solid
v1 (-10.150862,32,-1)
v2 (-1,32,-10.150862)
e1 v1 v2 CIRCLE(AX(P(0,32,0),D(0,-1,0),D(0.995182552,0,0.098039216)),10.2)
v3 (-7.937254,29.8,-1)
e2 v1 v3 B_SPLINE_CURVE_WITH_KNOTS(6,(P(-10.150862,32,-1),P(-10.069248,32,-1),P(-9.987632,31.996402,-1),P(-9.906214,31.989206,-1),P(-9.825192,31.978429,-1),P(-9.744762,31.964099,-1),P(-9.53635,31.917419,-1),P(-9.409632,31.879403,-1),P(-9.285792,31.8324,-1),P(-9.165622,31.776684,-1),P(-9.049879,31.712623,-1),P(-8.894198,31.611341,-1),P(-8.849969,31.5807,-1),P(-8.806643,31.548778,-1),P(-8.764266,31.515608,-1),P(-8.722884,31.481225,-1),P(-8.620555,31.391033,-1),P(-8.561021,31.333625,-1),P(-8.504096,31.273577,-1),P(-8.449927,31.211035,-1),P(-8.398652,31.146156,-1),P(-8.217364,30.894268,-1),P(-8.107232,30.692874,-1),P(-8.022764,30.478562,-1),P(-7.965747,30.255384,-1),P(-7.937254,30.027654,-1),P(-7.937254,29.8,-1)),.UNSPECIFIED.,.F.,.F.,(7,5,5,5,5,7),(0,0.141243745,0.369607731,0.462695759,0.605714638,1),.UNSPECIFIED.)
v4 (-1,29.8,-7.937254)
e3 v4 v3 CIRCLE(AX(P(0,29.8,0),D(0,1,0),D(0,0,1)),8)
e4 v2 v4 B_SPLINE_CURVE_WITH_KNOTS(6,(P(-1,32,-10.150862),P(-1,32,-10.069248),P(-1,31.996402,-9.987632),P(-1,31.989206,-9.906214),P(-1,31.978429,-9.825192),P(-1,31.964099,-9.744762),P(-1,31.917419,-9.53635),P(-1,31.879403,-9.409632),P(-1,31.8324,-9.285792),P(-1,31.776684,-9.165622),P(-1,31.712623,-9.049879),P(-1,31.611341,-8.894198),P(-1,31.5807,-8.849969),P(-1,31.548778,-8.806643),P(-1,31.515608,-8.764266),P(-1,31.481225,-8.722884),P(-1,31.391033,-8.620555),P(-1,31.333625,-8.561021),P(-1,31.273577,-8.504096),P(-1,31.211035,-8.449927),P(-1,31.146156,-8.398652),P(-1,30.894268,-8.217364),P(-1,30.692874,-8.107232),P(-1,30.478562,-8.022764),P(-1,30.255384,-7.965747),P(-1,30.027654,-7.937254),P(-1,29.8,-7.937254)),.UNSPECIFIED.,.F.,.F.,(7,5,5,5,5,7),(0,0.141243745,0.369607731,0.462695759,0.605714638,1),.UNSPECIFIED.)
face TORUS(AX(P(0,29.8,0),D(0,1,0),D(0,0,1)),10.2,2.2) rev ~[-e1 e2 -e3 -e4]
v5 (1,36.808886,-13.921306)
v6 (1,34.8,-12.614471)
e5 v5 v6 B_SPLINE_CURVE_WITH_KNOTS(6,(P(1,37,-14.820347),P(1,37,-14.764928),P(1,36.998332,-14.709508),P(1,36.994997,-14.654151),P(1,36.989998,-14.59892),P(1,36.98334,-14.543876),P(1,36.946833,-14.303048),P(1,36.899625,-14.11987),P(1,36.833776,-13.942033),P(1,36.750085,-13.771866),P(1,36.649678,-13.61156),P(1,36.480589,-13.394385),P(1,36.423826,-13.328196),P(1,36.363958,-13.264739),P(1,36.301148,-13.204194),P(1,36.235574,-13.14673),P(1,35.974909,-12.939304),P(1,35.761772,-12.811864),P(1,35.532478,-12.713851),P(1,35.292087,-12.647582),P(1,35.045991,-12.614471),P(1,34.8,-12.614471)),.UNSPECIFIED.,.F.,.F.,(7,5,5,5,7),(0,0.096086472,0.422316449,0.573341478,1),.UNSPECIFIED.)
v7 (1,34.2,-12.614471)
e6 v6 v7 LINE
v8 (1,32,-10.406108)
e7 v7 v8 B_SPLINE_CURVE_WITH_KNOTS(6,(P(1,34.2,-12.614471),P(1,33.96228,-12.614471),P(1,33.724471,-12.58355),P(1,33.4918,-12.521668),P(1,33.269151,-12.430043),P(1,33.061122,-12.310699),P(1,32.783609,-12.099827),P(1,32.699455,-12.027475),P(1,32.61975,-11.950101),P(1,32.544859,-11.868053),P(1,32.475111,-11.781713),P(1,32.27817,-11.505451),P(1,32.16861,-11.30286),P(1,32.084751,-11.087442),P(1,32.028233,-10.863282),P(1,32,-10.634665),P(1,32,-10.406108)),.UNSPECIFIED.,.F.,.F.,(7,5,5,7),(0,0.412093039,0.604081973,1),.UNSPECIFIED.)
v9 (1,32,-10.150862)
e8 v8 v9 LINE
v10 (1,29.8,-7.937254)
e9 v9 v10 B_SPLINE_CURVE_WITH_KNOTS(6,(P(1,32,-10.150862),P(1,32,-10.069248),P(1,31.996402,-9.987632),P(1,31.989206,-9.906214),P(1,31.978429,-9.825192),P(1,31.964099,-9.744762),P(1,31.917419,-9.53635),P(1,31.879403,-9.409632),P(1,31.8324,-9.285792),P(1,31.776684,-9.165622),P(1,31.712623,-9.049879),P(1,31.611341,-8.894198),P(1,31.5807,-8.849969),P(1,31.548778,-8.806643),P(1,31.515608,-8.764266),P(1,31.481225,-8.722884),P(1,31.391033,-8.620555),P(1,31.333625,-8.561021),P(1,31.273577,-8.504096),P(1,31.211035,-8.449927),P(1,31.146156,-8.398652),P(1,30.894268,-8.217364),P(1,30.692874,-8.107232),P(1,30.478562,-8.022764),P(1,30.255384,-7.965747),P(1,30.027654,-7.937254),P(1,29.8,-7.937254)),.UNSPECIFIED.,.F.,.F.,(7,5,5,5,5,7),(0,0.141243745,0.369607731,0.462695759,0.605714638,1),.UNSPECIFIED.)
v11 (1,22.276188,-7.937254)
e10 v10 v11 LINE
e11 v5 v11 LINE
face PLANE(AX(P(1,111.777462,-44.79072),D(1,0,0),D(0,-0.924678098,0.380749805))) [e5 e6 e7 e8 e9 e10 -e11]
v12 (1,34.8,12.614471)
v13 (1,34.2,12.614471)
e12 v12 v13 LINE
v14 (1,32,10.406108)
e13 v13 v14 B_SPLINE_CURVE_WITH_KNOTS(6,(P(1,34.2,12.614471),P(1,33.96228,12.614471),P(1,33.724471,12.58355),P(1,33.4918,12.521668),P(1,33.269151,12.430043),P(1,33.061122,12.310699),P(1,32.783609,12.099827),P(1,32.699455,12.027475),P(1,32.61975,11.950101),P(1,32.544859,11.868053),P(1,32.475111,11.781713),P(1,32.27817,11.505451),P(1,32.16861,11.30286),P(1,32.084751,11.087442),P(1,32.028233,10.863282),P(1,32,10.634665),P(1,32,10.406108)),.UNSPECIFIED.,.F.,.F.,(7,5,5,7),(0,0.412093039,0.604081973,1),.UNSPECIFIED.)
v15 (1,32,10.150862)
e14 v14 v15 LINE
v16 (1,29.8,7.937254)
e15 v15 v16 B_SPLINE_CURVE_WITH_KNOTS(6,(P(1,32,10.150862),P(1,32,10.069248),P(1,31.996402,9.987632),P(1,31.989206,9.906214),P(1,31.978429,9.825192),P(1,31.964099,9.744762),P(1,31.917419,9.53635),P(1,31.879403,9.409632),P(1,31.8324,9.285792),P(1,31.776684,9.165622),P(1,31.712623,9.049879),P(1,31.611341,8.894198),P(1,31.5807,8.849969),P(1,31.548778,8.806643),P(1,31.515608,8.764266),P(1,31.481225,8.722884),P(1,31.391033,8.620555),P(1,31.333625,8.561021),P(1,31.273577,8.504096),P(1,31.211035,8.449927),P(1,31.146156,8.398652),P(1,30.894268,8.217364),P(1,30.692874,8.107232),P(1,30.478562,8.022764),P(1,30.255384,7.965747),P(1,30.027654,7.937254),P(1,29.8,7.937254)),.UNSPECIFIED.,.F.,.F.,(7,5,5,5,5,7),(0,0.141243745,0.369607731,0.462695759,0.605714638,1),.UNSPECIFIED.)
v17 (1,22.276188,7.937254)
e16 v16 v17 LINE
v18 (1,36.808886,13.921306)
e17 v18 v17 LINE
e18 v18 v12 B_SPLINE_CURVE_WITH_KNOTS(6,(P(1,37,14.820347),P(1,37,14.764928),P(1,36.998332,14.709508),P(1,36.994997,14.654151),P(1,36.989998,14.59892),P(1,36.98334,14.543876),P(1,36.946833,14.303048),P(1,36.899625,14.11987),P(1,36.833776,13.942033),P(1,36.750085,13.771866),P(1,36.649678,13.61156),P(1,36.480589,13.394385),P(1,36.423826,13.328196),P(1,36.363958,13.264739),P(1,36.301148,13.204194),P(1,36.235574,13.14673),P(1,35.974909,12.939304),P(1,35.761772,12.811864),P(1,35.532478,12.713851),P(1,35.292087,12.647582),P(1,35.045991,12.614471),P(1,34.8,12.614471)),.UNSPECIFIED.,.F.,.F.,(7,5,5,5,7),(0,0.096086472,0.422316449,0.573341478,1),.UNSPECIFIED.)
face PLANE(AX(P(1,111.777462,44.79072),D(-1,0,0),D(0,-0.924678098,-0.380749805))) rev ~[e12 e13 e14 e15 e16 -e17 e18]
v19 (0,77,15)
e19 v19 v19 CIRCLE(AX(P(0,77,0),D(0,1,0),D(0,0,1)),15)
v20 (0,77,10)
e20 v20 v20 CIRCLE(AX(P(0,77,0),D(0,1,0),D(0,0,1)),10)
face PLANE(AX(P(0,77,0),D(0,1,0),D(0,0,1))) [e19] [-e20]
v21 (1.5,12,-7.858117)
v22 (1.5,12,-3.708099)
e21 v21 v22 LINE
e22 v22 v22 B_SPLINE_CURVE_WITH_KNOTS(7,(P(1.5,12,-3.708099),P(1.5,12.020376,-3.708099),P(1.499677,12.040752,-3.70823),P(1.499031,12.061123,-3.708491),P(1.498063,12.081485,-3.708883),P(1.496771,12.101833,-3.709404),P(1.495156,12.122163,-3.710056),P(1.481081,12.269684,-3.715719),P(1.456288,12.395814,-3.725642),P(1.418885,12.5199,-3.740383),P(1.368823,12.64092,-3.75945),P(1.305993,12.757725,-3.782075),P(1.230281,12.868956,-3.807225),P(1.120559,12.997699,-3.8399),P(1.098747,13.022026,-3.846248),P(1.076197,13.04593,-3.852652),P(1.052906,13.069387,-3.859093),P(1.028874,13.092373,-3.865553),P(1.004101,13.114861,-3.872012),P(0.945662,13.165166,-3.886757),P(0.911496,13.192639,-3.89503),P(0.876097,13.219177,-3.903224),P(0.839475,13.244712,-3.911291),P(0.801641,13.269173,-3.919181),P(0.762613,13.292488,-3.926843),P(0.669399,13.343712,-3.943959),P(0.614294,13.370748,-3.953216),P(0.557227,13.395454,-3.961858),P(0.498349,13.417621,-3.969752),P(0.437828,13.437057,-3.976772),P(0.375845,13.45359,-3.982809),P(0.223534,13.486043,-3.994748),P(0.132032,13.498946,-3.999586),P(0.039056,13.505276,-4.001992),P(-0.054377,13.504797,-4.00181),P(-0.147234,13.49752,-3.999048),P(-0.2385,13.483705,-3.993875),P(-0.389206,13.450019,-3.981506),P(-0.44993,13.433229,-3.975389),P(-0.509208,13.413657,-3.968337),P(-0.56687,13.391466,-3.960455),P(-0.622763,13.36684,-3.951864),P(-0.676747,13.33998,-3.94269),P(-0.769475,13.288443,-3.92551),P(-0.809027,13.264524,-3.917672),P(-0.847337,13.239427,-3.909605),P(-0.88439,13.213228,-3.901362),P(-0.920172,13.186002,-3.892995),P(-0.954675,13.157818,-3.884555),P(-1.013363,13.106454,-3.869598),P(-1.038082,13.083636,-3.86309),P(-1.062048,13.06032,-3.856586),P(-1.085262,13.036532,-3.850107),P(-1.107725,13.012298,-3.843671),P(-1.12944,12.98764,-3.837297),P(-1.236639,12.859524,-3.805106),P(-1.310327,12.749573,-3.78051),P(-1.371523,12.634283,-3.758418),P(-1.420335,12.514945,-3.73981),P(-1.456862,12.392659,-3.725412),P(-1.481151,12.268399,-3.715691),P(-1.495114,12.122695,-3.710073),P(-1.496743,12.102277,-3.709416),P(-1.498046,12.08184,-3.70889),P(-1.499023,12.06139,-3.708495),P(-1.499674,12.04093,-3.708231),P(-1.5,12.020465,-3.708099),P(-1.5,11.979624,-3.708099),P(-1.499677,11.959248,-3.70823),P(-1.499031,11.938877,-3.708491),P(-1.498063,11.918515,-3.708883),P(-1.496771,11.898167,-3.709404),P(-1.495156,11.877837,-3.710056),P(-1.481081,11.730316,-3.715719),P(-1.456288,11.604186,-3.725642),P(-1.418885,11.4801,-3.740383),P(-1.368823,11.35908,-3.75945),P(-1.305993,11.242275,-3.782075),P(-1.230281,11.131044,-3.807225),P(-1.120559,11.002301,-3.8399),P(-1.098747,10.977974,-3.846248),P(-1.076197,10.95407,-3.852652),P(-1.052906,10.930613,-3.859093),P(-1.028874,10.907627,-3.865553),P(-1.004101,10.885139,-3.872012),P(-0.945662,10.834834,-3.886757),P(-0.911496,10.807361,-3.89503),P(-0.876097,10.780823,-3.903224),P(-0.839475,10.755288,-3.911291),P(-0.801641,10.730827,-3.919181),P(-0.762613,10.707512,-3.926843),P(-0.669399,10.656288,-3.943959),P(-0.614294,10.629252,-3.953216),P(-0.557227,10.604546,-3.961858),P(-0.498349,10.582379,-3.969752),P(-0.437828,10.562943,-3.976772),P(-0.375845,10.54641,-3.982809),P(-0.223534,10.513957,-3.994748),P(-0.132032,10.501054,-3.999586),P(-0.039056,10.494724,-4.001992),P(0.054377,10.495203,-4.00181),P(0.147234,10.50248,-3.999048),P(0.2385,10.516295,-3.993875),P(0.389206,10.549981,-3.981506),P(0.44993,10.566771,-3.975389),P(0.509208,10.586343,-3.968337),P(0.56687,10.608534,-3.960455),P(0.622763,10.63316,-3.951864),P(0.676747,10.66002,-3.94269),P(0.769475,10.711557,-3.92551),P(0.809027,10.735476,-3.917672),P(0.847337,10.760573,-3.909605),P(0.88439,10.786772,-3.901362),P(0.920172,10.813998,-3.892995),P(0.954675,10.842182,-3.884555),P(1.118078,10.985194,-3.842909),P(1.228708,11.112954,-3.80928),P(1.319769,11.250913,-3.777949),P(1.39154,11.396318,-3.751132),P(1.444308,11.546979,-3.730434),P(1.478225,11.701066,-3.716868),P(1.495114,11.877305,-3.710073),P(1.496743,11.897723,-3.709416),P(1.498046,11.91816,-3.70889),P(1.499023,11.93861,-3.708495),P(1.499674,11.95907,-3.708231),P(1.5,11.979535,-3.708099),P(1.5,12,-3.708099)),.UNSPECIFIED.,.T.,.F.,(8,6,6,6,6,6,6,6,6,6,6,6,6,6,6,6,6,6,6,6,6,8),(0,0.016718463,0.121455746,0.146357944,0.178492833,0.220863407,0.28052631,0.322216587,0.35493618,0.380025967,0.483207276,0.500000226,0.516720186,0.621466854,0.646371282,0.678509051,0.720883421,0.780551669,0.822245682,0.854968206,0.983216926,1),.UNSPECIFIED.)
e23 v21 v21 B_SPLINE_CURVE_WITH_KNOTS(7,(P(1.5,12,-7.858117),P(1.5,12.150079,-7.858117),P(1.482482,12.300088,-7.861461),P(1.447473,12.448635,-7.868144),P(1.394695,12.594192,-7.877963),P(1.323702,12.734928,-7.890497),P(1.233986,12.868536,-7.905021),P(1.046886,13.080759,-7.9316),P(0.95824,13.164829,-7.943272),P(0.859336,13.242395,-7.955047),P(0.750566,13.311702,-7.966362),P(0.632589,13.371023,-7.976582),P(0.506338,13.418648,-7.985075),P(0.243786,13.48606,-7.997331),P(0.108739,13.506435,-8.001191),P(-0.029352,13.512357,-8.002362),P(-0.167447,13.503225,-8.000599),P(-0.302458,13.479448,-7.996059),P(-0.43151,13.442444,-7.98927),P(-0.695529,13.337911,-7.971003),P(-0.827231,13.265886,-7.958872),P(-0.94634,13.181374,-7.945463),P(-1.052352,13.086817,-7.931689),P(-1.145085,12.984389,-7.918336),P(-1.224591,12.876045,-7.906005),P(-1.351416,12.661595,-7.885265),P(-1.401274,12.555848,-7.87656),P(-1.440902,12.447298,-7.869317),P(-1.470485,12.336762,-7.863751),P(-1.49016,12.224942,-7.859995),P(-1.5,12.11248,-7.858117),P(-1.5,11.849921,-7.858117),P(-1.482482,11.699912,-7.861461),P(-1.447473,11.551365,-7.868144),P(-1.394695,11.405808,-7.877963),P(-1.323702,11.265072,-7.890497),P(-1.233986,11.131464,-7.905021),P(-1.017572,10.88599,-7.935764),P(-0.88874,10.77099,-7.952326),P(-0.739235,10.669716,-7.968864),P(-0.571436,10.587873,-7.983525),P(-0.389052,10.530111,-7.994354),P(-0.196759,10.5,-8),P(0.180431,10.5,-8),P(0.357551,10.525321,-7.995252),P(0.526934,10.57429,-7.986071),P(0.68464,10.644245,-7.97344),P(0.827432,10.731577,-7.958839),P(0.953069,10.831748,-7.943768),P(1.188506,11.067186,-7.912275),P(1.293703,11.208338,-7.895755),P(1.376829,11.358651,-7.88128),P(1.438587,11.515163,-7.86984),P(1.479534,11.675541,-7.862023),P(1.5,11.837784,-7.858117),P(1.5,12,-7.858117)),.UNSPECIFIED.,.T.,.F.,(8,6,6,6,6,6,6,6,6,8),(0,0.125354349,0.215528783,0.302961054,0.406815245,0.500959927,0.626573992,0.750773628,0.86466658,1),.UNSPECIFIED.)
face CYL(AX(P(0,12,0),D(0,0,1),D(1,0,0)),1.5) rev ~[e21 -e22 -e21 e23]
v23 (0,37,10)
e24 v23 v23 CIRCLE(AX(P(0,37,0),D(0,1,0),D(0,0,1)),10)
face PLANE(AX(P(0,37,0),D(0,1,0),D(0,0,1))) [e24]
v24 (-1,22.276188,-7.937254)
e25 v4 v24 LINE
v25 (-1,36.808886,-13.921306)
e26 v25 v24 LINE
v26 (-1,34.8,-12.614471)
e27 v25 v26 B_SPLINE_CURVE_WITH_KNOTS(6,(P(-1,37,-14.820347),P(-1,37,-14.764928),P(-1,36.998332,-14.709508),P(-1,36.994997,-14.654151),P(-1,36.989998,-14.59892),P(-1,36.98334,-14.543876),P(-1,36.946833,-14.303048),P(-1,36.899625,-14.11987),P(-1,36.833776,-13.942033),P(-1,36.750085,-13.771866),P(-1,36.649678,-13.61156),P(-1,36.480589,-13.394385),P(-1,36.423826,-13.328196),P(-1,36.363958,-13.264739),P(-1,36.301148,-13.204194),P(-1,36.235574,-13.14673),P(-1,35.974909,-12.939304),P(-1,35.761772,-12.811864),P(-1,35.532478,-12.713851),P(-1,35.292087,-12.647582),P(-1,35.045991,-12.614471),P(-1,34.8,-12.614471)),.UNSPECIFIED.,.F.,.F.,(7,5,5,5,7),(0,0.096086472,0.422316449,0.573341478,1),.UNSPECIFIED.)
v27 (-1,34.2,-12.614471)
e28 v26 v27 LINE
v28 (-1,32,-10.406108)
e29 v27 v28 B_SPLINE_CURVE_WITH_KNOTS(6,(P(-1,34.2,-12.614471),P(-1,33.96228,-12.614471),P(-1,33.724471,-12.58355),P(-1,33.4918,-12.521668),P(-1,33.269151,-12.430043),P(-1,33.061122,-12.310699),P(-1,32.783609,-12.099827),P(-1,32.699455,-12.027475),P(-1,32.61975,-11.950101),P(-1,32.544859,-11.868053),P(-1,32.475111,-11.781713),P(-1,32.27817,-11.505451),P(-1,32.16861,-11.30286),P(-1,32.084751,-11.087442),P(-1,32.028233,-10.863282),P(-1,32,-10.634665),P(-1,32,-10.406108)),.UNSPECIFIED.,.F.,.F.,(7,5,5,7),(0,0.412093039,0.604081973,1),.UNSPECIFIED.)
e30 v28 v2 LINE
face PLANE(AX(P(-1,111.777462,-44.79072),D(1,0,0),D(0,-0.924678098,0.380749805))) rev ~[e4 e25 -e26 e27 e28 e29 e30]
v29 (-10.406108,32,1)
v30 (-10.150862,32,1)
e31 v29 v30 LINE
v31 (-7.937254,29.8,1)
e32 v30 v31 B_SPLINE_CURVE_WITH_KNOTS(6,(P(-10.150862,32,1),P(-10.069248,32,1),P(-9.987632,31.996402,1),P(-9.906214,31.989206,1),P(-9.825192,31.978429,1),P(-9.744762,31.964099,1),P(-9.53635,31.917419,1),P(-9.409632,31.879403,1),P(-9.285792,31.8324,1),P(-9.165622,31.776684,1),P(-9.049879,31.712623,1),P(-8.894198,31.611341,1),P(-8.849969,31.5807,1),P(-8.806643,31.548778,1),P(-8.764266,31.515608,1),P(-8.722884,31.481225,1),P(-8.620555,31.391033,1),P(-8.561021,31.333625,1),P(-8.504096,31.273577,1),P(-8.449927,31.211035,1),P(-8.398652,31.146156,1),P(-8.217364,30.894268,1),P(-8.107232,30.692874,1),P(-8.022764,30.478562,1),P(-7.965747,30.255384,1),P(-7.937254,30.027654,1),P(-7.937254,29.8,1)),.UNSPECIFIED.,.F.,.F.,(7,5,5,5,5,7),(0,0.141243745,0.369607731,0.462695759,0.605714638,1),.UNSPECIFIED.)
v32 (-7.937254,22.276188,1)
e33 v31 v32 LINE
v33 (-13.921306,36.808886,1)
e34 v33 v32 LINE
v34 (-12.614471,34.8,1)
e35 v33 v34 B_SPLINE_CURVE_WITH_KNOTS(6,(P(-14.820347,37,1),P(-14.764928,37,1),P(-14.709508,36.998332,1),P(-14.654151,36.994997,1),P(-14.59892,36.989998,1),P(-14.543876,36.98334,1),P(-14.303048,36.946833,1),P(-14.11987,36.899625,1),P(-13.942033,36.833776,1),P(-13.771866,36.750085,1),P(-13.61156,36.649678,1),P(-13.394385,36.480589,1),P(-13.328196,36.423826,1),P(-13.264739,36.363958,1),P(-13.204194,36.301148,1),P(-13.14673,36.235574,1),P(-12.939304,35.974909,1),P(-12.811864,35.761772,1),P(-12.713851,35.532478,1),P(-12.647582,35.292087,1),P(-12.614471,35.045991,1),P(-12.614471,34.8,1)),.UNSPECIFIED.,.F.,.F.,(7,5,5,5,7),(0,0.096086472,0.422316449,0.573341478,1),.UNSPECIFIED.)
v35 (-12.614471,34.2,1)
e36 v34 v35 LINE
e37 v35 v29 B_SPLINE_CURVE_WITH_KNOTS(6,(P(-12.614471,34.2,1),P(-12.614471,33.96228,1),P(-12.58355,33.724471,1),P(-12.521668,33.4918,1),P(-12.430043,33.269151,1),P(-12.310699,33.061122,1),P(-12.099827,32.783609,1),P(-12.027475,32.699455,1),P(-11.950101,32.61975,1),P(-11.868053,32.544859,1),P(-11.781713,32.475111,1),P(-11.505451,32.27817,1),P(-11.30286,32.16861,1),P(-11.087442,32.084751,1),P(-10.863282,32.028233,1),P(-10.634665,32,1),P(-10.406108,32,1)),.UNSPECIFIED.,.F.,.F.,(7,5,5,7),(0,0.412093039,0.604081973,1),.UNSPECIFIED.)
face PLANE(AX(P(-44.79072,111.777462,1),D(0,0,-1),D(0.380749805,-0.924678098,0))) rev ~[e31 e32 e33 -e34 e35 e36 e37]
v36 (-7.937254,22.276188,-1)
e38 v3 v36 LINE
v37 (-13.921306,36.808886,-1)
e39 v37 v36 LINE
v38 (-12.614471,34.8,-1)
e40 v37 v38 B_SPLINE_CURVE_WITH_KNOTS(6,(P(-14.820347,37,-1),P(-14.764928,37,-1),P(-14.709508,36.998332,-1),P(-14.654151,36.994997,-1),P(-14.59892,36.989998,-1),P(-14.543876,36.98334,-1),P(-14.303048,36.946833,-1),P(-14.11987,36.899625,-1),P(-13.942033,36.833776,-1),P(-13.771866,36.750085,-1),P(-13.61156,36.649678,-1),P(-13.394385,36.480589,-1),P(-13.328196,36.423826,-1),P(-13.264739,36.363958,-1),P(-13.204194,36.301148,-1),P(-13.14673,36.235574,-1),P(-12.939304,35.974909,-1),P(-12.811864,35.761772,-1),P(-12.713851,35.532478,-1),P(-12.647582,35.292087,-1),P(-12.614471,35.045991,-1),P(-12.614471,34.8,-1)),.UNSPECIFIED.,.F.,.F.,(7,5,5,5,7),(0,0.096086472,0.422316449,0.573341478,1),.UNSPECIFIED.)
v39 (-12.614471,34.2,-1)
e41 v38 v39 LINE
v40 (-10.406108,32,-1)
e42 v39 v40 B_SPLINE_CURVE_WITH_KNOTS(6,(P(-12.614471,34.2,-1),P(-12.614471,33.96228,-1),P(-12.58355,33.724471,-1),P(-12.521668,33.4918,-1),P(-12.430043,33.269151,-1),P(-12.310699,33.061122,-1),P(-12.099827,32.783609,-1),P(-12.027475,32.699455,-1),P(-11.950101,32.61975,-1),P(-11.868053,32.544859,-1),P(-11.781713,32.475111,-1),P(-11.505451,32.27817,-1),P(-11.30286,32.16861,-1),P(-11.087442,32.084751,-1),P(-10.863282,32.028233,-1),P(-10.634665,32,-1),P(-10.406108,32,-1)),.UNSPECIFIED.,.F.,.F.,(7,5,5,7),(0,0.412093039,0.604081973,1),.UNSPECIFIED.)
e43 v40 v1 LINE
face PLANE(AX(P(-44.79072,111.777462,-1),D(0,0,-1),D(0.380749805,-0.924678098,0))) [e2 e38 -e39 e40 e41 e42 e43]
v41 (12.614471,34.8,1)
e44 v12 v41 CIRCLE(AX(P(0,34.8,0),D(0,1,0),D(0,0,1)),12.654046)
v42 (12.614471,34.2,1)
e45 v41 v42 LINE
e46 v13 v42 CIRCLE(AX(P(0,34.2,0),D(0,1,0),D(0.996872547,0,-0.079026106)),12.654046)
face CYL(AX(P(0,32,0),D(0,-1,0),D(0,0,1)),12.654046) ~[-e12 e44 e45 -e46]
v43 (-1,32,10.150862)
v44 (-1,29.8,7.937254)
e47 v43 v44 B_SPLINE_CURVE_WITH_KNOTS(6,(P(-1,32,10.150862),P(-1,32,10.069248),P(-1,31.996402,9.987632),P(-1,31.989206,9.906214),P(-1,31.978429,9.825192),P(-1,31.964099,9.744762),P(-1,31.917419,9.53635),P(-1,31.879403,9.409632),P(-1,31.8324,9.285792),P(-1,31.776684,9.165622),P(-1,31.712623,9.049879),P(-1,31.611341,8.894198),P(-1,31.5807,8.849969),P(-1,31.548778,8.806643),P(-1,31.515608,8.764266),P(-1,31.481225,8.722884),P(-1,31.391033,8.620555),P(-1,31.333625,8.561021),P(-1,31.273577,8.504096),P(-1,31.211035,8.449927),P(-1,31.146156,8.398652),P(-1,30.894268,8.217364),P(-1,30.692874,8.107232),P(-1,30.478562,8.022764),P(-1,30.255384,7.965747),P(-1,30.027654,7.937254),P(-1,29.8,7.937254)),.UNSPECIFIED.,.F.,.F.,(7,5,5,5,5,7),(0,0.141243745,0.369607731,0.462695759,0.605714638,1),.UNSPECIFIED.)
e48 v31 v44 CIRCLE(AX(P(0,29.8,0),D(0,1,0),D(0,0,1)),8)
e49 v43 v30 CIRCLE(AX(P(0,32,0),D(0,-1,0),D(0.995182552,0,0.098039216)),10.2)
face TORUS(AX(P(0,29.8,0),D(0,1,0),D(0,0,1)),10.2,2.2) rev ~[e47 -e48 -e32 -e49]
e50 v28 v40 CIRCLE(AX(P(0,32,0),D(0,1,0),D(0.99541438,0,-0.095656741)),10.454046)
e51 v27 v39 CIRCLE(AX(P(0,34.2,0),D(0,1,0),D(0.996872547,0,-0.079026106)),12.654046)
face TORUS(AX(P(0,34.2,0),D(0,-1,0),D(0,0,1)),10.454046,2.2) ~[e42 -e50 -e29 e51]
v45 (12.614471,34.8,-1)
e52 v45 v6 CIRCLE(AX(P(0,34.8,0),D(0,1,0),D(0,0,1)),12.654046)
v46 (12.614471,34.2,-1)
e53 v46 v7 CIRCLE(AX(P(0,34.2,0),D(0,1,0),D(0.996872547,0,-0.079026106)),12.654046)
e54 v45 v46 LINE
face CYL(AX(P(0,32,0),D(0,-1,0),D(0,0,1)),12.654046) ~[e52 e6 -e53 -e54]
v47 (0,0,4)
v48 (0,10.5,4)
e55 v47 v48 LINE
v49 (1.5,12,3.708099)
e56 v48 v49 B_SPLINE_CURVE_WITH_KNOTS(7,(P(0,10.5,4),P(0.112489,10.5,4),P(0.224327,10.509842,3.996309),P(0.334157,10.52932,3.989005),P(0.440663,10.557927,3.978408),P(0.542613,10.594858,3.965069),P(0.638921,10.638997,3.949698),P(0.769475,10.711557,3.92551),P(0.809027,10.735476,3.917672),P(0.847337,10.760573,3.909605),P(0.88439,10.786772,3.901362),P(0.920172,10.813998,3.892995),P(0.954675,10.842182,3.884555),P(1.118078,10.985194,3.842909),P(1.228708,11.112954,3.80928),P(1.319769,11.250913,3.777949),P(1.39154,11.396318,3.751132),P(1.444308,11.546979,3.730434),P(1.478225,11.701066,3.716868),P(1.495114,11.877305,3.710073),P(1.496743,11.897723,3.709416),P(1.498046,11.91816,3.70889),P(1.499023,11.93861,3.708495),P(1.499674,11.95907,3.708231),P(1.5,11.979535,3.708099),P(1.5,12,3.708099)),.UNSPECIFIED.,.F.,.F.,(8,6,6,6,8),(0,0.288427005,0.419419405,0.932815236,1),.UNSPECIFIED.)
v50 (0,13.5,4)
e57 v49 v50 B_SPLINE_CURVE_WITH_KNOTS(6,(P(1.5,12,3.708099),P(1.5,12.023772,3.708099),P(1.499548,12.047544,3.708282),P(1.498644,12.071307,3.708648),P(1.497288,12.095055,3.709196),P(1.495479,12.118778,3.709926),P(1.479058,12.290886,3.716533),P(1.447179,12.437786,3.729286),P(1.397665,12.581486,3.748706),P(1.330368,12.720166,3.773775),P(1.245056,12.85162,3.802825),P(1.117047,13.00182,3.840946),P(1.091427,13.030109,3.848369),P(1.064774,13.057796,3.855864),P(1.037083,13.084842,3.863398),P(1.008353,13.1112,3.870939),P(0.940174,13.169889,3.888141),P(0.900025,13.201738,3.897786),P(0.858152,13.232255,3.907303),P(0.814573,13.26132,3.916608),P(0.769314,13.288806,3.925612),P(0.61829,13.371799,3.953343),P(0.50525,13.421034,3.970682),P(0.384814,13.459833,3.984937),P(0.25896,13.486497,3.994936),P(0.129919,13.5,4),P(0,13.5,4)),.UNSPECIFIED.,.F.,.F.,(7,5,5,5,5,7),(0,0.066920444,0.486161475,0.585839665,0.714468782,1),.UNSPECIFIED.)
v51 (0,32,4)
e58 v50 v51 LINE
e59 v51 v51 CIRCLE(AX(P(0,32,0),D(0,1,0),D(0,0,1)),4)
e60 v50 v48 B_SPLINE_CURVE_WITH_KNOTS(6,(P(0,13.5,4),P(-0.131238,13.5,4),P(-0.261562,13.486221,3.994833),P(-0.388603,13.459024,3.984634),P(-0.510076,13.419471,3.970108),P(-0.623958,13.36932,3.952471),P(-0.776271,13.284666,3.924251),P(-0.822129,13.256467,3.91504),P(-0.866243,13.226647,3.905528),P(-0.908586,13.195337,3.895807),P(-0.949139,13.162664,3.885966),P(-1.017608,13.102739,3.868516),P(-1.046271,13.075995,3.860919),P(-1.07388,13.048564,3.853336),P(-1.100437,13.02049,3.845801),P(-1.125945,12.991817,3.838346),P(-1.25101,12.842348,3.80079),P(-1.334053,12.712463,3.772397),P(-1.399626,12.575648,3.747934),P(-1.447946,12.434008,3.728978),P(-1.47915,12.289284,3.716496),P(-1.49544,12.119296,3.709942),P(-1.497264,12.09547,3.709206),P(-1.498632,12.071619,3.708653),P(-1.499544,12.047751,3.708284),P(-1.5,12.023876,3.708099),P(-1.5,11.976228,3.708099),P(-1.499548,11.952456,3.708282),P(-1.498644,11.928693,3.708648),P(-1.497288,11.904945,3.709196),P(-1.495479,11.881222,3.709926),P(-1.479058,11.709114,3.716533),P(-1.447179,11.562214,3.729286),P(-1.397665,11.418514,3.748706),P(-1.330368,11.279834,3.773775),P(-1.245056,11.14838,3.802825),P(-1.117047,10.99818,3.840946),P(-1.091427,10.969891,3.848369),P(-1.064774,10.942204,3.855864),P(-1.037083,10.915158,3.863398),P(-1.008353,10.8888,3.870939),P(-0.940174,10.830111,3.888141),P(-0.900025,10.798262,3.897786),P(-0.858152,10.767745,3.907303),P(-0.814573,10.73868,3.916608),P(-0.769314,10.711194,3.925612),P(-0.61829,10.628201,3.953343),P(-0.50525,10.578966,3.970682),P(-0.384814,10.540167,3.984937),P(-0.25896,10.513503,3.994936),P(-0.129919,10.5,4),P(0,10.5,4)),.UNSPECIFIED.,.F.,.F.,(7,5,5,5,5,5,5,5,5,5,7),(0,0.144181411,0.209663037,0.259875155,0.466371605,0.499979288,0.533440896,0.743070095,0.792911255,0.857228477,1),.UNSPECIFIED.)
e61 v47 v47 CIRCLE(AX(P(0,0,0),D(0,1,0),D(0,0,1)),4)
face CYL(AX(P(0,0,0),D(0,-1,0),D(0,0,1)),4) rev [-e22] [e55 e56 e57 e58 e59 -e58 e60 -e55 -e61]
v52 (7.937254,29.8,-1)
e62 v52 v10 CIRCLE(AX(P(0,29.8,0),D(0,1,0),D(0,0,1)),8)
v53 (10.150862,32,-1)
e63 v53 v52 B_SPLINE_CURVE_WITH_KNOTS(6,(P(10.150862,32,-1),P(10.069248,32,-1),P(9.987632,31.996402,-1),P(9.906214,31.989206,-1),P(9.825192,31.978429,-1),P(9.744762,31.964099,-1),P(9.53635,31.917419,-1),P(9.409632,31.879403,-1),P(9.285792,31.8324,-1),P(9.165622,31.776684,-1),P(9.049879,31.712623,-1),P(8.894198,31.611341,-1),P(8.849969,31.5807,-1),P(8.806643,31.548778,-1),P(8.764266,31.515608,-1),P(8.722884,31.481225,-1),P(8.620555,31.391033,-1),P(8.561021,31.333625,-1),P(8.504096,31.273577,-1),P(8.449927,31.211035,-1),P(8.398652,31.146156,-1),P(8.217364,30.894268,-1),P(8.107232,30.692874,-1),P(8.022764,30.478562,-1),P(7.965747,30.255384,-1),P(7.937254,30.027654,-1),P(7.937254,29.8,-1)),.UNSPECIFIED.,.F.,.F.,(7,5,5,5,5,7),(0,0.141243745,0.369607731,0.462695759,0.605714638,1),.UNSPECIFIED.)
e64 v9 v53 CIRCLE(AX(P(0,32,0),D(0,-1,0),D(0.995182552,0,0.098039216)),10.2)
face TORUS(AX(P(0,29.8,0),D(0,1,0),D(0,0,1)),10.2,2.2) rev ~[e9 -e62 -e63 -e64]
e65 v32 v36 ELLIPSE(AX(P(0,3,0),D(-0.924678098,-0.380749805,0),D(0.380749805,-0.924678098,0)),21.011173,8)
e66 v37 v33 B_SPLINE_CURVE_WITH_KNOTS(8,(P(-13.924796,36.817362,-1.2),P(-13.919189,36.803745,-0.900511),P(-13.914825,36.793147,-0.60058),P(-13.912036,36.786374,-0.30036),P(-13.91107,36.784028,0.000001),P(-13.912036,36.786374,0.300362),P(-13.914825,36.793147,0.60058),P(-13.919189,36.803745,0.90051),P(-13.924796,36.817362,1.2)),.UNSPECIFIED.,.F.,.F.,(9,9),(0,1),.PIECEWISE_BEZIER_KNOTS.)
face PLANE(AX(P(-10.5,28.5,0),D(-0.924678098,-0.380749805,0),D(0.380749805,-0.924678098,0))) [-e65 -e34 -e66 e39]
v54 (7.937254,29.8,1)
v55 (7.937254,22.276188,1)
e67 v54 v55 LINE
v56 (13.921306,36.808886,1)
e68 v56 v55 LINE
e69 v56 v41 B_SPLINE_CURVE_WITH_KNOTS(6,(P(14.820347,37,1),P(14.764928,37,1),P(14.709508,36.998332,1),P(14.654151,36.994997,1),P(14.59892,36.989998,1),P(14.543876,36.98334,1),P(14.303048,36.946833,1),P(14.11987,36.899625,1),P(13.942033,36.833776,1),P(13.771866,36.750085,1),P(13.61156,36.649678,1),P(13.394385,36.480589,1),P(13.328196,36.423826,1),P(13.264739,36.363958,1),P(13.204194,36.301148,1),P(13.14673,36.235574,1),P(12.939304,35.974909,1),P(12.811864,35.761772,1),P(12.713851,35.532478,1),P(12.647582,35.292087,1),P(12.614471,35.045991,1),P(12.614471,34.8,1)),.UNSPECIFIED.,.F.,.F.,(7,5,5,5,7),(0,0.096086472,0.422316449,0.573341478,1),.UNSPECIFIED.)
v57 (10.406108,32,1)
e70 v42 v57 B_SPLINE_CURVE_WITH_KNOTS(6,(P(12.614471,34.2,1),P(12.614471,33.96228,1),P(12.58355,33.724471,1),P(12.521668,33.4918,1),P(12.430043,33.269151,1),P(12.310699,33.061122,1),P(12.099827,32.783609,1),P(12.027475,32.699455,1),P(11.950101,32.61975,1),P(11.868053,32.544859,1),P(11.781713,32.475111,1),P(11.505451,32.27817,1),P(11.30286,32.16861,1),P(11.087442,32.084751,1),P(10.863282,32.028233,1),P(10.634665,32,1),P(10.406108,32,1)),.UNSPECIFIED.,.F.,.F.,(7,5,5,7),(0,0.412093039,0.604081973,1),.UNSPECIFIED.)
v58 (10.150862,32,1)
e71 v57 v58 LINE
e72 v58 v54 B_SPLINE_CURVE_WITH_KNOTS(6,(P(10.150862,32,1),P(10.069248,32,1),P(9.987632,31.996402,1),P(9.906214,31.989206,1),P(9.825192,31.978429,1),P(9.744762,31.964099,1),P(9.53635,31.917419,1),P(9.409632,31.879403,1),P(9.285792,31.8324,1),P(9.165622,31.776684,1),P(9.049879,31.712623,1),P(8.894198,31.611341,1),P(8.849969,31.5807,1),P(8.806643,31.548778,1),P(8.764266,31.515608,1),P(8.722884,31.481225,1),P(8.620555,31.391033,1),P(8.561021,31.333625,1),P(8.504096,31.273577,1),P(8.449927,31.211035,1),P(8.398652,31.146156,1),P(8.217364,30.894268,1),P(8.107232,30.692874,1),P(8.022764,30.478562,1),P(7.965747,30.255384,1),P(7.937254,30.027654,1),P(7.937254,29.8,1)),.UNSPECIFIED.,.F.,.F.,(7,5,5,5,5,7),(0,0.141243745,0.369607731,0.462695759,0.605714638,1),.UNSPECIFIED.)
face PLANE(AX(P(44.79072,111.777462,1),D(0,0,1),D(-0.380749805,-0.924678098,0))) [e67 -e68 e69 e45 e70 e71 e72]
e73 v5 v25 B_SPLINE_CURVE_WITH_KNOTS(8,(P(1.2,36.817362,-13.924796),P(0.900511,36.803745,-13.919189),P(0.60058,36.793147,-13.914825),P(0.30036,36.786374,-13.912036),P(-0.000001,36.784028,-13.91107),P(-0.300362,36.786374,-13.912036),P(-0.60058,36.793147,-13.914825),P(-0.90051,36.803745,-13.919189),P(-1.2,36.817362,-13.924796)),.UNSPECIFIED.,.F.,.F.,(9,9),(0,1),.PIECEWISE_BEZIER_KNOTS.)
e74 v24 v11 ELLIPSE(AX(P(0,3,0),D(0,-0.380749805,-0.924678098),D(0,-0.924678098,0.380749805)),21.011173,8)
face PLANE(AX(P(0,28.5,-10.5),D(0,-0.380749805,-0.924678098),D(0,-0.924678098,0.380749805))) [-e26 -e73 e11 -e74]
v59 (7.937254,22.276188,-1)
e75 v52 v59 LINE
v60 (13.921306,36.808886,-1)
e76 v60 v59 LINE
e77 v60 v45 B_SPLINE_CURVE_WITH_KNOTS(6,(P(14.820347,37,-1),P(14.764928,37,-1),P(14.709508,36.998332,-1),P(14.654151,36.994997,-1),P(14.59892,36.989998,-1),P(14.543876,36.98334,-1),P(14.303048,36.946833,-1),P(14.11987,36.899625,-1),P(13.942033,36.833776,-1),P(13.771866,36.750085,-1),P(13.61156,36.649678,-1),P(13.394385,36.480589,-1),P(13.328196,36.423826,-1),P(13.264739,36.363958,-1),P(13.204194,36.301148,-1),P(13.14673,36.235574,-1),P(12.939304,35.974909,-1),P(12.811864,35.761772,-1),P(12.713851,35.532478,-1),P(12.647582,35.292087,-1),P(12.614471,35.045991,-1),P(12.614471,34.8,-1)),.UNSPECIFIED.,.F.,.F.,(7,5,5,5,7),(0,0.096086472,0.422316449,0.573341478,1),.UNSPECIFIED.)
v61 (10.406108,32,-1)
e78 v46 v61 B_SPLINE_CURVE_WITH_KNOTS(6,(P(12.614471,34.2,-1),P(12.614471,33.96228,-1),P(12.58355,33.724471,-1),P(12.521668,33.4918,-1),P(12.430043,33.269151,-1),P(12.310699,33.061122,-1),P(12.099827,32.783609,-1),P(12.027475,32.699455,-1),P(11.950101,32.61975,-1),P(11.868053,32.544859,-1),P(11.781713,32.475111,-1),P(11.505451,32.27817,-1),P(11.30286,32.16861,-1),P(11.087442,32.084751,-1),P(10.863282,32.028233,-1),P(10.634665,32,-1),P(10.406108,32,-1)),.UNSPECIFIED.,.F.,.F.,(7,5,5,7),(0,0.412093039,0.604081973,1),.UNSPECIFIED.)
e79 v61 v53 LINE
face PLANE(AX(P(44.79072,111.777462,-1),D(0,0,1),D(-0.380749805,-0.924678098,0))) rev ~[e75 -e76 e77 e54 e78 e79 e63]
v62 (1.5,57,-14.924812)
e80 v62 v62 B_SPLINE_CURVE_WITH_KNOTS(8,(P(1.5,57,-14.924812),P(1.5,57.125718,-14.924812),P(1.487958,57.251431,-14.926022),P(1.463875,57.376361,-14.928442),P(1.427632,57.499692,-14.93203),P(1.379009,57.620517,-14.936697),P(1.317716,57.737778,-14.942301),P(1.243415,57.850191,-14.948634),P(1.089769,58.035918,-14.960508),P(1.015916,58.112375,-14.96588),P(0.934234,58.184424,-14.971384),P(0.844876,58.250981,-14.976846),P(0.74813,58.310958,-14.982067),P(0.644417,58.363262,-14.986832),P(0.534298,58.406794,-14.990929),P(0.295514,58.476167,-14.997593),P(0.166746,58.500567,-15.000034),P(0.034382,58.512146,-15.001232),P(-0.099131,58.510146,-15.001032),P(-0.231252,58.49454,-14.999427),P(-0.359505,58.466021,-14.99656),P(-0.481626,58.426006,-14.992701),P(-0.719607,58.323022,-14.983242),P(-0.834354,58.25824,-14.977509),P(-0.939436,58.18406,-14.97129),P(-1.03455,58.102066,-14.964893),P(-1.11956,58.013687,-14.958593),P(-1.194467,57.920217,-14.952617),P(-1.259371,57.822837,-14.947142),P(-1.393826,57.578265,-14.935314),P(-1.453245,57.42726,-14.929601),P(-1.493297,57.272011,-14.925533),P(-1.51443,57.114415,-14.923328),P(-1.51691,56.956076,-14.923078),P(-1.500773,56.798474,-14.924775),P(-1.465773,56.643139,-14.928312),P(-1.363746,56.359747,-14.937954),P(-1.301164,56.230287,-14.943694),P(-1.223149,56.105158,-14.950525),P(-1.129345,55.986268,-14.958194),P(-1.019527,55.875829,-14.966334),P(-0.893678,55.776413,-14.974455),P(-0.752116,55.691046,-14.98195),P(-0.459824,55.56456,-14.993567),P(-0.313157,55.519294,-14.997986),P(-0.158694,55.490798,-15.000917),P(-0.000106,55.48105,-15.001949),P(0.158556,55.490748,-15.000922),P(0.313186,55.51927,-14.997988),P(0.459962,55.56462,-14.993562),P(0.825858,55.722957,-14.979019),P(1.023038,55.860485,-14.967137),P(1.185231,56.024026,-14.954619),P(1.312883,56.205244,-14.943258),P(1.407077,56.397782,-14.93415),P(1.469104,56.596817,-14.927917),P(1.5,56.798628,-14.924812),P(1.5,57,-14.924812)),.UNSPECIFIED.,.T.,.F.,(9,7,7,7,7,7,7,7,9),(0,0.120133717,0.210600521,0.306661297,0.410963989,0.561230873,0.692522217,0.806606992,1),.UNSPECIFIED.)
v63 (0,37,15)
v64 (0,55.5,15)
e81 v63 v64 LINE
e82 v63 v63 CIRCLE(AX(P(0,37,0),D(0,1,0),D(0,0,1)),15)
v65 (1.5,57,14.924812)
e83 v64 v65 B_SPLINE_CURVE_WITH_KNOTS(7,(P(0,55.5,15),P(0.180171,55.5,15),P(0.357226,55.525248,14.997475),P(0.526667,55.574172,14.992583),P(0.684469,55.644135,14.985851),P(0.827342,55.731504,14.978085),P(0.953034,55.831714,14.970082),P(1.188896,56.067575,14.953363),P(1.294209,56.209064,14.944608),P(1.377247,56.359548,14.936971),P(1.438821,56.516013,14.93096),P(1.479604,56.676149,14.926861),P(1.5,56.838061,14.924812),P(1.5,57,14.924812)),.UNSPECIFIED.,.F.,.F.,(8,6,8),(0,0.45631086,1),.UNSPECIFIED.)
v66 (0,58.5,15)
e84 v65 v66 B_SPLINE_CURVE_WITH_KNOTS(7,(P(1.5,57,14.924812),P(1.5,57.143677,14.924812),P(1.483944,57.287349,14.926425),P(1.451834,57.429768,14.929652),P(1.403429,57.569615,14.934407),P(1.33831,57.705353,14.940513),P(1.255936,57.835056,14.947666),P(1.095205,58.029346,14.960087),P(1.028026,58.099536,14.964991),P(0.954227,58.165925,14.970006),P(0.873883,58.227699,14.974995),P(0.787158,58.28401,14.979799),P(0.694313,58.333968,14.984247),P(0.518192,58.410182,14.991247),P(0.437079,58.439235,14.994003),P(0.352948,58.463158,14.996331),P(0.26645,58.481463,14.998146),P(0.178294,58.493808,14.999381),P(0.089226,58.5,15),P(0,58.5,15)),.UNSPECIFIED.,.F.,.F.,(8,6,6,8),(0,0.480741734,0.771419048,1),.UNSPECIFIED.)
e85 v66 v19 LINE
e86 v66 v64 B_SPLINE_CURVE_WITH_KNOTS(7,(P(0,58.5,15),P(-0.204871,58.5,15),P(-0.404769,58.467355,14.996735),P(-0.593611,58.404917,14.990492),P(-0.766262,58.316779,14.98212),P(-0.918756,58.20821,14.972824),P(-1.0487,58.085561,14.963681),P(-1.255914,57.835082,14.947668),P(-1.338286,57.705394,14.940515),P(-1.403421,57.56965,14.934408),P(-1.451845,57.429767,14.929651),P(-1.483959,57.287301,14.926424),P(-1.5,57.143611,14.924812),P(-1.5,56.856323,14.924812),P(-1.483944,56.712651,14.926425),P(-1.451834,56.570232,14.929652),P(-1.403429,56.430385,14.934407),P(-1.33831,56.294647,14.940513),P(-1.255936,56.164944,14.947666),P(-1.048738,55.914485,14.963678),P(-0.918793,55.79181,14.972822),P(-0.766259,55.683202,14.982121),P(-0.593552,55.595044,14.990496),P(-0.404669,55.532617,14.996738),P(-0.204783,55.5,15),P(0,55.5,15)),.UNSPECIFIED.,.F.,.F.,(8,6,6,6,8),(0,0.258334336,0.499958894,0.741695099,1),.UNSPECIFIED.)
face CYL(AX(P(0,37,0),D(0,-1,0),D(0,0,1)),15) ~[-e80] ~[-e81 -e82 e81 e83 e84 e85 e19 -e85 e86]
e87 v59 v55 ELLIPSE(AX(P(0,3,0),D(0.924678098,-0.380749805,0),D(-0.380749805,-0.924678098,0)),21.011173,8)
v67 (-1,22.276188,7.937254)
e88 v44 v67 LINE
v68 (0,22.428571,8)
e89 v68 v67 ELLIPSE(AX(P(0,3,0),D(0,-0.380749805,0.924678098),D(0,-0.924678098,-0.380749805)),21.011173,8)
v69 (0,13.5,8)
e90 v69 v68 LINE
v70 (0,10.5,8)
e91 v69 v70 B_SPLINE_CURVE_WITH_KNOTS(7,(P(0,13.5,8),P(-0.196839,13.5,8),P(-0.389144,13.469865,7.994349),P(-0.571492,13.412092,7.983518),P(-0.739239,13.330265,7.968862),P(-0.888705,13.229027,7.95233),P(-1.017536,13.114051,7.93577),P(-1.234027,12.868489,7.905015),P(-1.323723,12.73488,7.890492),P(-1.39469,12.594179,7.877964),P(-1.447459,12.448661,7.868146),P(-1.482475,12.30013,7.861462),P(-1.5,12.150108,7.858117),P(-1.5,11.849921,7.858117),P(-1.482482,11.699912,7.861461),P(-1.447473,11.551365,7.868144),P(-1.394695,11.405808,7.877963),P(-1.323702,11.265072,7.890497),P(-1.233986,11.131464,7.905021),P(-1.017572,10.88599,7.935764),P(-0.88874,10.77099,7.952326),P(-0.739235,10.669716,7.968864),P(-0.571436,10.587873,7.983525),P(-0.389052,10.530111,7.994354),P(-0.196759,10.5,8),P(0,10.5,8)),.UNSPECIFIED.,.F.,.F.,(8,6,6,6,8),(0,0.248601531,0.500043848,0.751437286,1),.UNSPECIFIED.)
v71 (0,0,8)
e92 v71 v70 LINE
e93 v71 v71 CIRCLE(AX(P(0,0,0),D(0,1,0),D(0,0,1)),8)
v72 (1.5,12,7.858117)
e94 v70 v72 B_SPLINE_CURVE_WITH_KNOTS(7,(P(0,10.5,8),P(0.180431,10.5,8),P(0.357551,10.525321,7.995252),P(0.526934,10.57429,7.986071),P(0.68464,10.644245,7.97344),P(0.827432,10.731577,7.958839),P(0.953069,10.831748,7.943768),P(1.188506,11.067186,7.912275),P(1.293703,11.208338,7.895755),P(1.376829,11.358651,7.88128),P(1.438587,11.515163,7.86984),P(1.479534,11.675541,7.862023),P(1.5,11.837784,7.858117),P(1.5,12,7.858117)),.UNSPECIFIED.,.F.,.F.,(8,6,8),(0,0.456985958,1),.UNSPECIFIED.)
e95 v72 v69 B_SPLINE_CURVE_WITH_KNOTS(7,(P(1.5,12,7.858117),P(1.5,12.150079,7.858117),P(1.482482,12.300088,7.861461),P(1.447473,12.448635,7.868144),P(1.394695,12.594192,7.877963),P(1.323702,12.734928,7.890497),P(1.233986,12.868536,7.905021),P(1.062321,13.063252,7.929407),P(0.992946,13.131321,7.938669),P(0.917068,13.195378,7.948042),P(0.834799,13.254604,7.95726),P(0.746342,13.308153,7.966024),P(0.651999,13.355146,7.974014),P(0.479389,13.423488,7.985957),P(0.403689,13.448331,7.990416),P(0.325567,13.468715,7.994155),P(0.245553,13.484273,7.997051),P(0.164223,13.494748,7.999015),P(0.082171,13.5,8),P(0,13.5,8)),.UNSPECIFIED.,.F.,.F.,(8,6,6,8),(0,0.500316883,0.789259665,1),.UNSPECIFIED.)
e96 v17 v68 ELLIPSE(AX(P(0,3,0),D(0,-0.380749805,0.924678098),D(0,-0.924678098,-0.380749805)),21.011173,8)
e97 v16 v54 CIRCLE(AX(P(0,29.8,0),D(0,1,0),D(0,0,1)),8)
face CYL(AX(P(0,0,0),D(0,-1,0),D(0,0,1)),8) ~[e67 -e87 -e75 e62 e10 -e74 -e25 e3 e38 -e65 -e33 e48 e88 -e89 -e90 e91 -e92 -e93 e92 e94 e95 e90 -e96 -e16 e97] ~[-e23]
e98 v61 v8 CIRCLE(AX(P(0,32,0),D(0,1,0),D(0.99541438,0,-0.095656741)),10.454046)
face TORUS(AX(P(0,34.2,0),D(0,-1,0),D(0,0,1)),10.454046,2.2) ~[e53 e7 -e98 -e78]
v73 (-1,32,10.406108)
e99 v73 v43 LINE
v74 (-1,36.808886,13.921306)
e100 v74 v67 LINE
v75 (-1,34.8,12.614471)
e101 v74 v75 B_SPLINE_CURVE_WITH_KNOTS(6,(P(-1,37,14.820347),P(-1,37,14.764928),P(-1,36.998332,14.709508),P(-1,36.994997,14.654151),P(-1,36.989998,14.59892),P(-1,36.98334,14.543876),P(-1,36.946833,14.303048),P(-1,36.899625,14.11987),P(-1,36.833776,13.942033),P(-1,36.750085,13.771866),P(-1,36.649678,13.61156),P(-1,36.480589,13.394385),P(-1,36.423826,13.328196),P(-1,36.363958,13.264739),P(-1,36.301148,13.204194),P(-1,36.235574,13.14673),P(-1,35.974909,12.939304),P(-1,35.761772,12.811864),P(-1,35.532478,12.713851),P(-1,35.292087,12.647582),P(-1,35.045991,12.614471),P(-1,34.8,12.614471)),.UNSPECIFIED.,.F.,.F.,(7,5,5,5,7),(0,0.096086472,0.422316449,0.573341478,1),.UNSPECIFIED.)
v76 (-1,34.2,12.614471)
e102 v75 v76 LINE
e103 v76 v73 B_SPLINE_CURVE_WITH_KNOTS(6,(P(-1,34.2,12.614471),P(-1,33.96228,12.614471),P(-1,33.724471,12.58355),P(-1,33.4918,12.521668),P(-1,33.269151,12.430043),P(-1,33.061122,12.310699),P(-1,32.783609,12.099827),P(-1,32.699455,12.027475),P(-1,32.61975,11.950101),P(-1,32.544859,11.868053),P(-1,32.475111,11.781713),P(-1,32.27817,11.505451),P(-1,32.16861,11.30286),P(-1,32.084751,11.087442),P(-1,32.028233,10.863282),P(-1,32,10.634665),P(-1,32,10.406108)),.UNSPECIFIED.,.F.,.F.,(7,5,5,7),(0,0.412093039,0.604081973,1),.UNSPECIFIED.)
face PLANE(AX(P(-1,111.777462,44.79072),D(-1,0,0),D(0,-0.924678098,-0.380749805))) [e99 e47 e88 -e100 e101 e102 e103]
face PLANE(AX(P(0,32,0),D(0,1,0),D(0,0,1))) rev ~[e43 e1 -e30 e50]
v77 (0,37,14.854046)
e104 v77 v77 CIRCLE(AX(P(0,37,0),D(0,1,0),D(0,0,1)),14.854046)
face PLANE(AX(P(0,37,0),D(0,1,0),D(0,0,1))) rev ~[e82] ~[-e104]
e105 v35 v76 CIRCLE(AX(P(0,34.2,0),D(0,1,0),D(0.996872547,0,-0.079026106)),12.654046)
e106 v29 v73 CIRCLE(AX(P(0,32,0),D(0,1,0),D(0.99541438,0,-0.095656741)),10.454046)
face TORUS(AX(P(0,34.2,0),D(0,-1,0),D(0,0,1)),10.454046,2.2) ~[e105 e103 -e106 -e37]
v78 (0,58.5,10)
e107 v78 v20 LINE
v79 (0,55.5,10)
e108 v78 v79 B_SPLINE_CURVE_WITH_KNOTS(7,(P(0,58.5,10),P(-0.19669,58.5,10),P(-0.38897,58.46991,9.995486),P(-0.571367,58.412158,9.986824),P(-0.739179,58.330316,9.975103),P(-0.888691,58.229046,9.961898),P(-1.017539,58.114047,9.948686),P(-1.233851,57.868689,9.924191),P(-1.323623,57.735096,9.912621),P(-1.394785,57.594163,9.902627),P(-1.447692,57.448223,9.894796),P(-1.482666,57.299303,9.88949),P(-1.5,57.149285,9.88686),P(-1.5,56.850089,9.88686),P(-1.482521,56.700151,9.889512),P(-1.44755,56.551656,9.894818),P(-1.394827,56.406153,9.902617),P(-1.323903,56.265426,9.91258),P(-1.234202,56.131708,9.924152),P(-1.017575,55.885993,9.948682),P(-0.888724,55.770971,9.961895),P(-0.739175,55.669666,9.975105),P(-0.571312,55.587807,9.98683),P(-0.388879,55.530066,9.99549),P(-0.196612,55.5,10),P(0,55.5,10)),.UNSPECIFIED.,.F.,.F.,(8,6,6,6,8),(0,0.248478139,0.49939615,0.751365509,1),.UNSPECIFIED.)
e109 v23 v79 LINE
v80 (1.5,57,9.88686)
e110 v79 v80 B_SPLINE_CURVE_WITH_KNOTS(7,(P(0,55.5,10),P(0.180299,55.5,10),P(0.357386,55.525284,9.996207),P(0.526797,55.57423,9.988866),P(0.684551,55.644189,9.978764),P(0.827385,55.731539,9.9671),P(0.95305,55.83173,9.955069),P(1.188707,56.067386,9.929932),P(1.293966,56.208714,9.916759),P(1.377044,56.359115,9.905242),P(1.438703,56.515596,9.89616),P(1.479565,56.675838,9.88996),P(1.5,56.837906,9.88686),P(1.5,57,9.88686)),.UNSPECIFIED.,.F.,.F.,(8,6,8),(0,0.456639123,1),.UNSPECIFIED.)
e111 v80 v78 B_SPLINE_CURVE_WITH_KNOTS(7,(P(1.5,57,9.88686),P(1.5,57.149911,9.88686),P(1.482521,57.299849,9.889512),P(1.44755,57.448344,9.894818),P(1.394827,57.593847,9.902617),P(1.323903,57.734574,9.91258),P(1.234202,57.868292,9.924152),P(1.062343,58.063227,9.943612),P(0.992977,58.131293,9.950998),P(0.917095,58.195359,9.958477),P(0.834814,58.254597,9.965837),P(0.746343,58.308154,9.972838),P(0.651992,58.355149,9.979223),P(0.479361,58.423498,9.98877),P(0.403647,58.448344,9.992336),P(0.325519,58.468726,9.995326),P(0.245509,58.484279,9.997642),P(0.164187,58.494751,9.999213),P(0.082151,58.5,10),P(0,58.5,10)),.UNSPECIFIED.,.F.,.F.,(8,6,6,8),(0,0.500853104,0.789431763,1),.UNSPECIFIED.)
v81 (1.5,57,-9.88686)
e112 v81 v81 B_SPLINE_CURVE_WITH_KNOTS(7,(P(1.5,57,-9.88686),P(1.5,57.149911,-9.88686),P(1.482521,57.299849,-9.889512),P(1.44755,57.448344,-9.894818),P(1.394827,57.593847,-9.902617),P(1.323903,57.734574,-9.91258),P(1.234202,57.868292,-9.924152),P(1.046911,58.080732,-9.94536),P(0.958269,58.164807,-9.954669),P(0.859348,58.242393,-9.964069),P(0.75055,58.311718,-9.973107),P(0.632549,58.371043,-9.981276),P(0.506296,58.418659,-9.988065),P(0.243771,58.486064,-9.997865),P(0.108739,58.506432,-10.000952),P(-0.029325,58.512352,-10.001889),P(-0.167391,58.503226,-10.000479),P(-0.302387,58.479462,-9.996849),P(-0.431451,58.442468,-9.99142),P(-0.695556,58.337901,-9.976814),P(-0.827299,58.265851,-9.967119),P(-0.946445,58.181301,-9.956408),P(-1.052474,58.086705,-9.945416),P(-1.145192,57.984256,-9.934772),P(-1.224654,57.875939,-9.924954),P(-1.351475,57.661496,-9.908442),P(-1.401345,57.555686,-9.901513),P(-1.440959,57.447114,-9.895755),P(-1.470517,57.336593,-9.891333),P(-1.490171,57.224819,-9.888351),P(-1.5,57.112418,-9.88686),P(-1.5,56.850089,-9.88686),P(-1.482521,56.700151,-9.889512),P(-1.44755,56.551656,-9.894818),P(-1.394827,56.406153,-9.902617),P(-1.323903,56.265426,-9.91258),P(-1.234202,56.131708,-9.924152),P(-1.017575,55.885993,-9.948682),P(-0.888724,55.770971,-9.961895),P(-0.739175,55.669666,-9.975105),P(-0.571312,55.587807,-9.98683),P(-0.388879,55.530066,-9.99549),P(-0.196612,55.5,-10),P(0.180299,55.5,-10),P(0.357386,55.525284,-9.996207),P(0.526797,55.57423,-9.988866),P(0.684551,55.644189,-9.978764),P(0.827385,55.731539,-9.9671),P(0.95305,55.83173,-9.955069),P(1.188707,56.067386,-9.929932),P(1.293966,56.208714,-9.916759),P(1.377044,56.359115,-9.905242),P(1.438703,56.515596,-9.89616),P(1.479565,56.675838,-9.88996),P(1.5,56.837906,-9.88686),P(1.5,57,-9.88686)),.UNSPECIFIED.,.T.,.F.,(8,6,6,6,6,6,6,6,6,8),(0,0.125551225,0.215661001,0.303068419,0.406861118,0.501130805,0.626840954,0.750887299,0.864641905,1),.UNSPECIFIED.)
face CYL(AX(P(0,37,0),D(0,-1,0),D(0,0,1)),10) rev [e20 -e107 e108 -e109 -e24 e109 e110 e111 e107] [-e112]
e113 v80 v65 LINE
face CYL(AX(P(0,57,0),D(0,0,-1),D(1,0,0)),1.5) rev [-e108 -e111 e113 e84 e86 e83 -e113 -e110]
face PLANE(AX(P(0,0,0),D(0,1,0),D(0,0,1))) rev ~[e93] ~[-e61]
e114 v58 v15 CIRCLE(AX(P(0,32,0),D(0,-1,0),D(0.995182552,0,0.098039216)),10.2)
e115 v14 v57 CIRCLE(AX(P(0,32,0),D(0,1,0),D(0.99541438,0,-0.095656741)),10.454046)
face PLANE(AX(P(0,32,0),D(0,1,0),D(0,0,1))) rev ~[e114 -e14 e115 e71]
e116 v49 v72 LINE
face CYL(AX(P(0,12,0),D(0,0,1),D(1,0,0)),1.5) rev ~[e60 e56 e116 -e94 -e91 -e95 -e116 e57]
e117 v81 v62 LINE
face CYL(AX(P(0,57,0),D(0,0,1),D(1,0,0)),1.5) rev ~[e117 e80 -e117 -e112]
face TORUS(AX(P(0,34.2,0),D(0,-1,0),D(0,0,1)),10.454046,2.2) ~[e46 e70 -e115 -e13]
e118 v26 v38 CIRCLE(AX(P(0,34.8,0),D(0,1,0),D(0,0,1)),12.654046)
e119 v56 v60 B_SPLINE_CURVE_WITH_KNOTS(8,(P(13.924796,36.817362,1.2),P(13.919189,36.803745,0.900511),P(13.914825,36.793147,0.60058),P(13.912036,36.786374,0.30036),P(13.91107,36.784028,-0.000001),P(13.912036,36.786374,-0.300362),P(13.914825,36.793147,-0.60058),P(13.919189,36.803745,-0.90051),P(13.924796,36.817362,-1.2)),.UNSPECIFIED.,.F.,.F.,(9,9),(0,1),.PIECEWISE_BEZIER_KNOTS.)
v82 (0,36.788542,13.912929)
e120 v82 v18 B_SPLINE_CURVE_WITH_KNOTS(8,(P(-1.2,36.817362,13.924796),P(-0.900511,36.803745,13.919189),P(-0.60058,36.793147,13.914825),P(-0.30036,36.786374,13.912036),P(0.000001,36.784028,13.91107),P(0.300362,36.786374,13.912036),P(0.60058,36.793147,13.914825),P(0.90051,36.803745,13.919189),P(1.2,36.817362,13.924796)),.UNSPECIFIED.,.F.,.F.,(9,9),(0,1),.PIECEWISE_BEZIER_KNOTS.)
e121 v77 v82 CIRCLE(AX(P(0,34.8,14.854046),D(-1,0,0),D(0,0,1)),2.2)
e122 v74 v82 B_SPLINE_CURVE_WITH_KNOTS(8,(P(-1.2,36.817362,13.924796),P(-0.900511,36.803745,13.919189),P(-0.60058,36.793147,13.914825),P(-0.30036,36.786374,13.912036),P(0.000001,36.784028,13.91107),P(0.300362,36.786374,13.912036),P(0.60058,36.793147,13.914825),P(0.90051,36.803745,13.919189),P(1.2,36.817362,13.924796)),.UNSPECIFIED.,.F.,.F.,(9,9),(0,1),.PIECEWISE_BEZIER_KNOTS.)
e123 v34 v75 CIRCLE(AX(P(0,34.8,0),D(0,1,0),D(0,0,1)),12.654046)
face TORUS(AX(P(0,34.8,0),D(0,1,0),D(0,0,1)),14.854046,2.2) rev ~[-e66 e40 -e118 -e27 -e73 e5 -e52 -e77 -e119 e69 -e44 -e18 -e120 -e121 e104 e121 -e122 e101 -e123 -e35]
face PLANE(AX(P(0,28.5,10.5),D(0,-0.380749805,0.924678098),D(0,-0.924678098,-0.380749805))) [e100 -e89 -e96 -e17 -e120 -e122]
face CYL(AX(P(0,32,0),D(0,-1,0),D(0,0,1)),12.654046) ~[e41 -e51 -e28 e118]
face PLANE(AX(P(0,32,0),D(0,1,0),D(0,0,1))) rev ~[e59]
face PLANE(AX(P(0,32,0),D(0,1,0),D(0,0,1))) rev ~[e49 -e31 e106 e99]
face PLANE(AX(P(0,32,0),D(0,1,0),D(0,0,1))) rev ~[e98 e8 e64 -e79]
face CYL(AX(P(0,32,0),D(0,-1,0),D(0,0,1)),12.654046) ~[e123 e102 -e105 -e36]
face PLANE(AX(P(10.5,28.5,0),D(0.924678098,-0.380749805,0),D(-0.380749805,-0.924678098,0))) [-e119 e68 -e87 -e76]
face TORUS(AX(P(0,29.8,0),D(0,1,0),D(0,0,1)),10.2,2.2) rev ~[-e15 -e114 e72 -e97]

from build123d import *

# Parameters (mm, degrees)
SKETCH1_R           = 8
SKETCH1_R_2         = 4
BOSS_EXTRUDE1_DEPTH = 32
SKETCH2_R           = 12.654046274
BOSS_EXTRUDE2_DEPTH = 5
SKETCH3_R           = 15
SKETCH3_R_2         = 10
BOSS_EXTRUDE3_DEPTH = 40
FILLET1_R           = 2.2
SKETCH4_R           = 1.5
CUT_EXTRUDE1_DEPTH  = 20
RIB5_REACH          = 81.869
SKETCH5_WALL_W      = 180.122060892
SKETCH5_WALL_H      = 2
CIRPATTERN1_COUNT   = 4


with BuildPart() as part:
    # Sketch1 → Boss-Extrude1 (new body)
    with BuildSketch(Plane(origin=(0, 0, 0), x_dir=(1, 0, 0), z_dir=(0, 1, 0))):
        with Locations(Location((0, 0, 0), (0, 0, 270))):
            Circle(SKETCH1_R)
        with Locations(Location((0, 0, 0), (0, 0, 270))):
            Circle(SKETCH1_R_2, mode=Mode.SUBTRACT)
    extrude(amount=BOSS_EXTRUDE1_DEPTH)

    # Sketch2 → Boss-Extrude2 (add)
    with BuildSketch(Plane(origin=(0, 32, 0), x_dir=(1, 0, 0), z_dir=(0, 1, 0))):
        with Locations(Location((0, 0, 0), (0, 0, 270))):
            Circle(SKETCH2_R)
    extrude(amount=BOSS_EXTRUDE2_DEPTH)

    # Sketch3 → Boss-Extrude3 (add)
    with BuildSketch(Plane(origin=(0, 37, 0), x_dir=(1, 0, 0), z_dir=(0, 1, 0))):
        with Locations(Location((0, 0, 0), (0, 0, 270))):
            Circle(SKETCH3_R)
        with Locations(Location((0, 0, 0), (0, 0, 270))):
            Circle(SKETCH3_R_2, mode=Mode.SUBTRACT)
    extrude(amount=BOSS_EXTRUDE3_DEPTH)

    # Fillet1
    fillet1_edges = [part.edges().sort_by_distance(p)[0] for p in [
        (0, 37, -12.654046274),
        (0, 32, -8),
        (0, 32, -12.654046274),
    ]]
    fillet(fillet1_edges, radius=FILLET1_R)

    # Sketch4 → Cut-Extrude1 (cut, symmetric)
    with BuildSketch(Plane.XY):
        with Locations((0, 57)):
            Circle(SKETCH4_R)
        with Locations((0, 12)):
            Circle(SKETCH4_R)
    extrude(amount=CUT_EXTRUDE1_DEPTH, both=True, mode=Mode.SUBTRACT)

    # Sketch5 wall → Rib5 (add, up to next)
    with BuildSketch(Plane(origin=(10.5, 28.5, 0), x_dir=(-0.380749805254, -0.924678098475, 0), z_dir=(0.924678098475, -0.380749805254, 0)), mode=Mode.PRIVATE) as rib5_sk1:
        Rectangle(SKETCH5_WALL_W, SKETCH5_WALL_H)
    rib5_tool1 = extrude(rib5_sk1.sketch, amount=-RIB5_REACH, mode=Mode.PRIVATE) - part.part
    rib5 = rib5_tool1.solids().sort_by_distance((10.5, 28.5, 0))[0]
    add(rib5)

    # CirPattern1: Rib5 ×4 about axis
    cirpattern1_axis = Axis((0, 0, 0), (0, 1, 0))
    for i in range(1, CIRPATTERN1_COUNT):
        add(rib5.rotate(cirpattern1_axis, i * 360 / CIRPATTERN1_COUNT))


solid = part.part
